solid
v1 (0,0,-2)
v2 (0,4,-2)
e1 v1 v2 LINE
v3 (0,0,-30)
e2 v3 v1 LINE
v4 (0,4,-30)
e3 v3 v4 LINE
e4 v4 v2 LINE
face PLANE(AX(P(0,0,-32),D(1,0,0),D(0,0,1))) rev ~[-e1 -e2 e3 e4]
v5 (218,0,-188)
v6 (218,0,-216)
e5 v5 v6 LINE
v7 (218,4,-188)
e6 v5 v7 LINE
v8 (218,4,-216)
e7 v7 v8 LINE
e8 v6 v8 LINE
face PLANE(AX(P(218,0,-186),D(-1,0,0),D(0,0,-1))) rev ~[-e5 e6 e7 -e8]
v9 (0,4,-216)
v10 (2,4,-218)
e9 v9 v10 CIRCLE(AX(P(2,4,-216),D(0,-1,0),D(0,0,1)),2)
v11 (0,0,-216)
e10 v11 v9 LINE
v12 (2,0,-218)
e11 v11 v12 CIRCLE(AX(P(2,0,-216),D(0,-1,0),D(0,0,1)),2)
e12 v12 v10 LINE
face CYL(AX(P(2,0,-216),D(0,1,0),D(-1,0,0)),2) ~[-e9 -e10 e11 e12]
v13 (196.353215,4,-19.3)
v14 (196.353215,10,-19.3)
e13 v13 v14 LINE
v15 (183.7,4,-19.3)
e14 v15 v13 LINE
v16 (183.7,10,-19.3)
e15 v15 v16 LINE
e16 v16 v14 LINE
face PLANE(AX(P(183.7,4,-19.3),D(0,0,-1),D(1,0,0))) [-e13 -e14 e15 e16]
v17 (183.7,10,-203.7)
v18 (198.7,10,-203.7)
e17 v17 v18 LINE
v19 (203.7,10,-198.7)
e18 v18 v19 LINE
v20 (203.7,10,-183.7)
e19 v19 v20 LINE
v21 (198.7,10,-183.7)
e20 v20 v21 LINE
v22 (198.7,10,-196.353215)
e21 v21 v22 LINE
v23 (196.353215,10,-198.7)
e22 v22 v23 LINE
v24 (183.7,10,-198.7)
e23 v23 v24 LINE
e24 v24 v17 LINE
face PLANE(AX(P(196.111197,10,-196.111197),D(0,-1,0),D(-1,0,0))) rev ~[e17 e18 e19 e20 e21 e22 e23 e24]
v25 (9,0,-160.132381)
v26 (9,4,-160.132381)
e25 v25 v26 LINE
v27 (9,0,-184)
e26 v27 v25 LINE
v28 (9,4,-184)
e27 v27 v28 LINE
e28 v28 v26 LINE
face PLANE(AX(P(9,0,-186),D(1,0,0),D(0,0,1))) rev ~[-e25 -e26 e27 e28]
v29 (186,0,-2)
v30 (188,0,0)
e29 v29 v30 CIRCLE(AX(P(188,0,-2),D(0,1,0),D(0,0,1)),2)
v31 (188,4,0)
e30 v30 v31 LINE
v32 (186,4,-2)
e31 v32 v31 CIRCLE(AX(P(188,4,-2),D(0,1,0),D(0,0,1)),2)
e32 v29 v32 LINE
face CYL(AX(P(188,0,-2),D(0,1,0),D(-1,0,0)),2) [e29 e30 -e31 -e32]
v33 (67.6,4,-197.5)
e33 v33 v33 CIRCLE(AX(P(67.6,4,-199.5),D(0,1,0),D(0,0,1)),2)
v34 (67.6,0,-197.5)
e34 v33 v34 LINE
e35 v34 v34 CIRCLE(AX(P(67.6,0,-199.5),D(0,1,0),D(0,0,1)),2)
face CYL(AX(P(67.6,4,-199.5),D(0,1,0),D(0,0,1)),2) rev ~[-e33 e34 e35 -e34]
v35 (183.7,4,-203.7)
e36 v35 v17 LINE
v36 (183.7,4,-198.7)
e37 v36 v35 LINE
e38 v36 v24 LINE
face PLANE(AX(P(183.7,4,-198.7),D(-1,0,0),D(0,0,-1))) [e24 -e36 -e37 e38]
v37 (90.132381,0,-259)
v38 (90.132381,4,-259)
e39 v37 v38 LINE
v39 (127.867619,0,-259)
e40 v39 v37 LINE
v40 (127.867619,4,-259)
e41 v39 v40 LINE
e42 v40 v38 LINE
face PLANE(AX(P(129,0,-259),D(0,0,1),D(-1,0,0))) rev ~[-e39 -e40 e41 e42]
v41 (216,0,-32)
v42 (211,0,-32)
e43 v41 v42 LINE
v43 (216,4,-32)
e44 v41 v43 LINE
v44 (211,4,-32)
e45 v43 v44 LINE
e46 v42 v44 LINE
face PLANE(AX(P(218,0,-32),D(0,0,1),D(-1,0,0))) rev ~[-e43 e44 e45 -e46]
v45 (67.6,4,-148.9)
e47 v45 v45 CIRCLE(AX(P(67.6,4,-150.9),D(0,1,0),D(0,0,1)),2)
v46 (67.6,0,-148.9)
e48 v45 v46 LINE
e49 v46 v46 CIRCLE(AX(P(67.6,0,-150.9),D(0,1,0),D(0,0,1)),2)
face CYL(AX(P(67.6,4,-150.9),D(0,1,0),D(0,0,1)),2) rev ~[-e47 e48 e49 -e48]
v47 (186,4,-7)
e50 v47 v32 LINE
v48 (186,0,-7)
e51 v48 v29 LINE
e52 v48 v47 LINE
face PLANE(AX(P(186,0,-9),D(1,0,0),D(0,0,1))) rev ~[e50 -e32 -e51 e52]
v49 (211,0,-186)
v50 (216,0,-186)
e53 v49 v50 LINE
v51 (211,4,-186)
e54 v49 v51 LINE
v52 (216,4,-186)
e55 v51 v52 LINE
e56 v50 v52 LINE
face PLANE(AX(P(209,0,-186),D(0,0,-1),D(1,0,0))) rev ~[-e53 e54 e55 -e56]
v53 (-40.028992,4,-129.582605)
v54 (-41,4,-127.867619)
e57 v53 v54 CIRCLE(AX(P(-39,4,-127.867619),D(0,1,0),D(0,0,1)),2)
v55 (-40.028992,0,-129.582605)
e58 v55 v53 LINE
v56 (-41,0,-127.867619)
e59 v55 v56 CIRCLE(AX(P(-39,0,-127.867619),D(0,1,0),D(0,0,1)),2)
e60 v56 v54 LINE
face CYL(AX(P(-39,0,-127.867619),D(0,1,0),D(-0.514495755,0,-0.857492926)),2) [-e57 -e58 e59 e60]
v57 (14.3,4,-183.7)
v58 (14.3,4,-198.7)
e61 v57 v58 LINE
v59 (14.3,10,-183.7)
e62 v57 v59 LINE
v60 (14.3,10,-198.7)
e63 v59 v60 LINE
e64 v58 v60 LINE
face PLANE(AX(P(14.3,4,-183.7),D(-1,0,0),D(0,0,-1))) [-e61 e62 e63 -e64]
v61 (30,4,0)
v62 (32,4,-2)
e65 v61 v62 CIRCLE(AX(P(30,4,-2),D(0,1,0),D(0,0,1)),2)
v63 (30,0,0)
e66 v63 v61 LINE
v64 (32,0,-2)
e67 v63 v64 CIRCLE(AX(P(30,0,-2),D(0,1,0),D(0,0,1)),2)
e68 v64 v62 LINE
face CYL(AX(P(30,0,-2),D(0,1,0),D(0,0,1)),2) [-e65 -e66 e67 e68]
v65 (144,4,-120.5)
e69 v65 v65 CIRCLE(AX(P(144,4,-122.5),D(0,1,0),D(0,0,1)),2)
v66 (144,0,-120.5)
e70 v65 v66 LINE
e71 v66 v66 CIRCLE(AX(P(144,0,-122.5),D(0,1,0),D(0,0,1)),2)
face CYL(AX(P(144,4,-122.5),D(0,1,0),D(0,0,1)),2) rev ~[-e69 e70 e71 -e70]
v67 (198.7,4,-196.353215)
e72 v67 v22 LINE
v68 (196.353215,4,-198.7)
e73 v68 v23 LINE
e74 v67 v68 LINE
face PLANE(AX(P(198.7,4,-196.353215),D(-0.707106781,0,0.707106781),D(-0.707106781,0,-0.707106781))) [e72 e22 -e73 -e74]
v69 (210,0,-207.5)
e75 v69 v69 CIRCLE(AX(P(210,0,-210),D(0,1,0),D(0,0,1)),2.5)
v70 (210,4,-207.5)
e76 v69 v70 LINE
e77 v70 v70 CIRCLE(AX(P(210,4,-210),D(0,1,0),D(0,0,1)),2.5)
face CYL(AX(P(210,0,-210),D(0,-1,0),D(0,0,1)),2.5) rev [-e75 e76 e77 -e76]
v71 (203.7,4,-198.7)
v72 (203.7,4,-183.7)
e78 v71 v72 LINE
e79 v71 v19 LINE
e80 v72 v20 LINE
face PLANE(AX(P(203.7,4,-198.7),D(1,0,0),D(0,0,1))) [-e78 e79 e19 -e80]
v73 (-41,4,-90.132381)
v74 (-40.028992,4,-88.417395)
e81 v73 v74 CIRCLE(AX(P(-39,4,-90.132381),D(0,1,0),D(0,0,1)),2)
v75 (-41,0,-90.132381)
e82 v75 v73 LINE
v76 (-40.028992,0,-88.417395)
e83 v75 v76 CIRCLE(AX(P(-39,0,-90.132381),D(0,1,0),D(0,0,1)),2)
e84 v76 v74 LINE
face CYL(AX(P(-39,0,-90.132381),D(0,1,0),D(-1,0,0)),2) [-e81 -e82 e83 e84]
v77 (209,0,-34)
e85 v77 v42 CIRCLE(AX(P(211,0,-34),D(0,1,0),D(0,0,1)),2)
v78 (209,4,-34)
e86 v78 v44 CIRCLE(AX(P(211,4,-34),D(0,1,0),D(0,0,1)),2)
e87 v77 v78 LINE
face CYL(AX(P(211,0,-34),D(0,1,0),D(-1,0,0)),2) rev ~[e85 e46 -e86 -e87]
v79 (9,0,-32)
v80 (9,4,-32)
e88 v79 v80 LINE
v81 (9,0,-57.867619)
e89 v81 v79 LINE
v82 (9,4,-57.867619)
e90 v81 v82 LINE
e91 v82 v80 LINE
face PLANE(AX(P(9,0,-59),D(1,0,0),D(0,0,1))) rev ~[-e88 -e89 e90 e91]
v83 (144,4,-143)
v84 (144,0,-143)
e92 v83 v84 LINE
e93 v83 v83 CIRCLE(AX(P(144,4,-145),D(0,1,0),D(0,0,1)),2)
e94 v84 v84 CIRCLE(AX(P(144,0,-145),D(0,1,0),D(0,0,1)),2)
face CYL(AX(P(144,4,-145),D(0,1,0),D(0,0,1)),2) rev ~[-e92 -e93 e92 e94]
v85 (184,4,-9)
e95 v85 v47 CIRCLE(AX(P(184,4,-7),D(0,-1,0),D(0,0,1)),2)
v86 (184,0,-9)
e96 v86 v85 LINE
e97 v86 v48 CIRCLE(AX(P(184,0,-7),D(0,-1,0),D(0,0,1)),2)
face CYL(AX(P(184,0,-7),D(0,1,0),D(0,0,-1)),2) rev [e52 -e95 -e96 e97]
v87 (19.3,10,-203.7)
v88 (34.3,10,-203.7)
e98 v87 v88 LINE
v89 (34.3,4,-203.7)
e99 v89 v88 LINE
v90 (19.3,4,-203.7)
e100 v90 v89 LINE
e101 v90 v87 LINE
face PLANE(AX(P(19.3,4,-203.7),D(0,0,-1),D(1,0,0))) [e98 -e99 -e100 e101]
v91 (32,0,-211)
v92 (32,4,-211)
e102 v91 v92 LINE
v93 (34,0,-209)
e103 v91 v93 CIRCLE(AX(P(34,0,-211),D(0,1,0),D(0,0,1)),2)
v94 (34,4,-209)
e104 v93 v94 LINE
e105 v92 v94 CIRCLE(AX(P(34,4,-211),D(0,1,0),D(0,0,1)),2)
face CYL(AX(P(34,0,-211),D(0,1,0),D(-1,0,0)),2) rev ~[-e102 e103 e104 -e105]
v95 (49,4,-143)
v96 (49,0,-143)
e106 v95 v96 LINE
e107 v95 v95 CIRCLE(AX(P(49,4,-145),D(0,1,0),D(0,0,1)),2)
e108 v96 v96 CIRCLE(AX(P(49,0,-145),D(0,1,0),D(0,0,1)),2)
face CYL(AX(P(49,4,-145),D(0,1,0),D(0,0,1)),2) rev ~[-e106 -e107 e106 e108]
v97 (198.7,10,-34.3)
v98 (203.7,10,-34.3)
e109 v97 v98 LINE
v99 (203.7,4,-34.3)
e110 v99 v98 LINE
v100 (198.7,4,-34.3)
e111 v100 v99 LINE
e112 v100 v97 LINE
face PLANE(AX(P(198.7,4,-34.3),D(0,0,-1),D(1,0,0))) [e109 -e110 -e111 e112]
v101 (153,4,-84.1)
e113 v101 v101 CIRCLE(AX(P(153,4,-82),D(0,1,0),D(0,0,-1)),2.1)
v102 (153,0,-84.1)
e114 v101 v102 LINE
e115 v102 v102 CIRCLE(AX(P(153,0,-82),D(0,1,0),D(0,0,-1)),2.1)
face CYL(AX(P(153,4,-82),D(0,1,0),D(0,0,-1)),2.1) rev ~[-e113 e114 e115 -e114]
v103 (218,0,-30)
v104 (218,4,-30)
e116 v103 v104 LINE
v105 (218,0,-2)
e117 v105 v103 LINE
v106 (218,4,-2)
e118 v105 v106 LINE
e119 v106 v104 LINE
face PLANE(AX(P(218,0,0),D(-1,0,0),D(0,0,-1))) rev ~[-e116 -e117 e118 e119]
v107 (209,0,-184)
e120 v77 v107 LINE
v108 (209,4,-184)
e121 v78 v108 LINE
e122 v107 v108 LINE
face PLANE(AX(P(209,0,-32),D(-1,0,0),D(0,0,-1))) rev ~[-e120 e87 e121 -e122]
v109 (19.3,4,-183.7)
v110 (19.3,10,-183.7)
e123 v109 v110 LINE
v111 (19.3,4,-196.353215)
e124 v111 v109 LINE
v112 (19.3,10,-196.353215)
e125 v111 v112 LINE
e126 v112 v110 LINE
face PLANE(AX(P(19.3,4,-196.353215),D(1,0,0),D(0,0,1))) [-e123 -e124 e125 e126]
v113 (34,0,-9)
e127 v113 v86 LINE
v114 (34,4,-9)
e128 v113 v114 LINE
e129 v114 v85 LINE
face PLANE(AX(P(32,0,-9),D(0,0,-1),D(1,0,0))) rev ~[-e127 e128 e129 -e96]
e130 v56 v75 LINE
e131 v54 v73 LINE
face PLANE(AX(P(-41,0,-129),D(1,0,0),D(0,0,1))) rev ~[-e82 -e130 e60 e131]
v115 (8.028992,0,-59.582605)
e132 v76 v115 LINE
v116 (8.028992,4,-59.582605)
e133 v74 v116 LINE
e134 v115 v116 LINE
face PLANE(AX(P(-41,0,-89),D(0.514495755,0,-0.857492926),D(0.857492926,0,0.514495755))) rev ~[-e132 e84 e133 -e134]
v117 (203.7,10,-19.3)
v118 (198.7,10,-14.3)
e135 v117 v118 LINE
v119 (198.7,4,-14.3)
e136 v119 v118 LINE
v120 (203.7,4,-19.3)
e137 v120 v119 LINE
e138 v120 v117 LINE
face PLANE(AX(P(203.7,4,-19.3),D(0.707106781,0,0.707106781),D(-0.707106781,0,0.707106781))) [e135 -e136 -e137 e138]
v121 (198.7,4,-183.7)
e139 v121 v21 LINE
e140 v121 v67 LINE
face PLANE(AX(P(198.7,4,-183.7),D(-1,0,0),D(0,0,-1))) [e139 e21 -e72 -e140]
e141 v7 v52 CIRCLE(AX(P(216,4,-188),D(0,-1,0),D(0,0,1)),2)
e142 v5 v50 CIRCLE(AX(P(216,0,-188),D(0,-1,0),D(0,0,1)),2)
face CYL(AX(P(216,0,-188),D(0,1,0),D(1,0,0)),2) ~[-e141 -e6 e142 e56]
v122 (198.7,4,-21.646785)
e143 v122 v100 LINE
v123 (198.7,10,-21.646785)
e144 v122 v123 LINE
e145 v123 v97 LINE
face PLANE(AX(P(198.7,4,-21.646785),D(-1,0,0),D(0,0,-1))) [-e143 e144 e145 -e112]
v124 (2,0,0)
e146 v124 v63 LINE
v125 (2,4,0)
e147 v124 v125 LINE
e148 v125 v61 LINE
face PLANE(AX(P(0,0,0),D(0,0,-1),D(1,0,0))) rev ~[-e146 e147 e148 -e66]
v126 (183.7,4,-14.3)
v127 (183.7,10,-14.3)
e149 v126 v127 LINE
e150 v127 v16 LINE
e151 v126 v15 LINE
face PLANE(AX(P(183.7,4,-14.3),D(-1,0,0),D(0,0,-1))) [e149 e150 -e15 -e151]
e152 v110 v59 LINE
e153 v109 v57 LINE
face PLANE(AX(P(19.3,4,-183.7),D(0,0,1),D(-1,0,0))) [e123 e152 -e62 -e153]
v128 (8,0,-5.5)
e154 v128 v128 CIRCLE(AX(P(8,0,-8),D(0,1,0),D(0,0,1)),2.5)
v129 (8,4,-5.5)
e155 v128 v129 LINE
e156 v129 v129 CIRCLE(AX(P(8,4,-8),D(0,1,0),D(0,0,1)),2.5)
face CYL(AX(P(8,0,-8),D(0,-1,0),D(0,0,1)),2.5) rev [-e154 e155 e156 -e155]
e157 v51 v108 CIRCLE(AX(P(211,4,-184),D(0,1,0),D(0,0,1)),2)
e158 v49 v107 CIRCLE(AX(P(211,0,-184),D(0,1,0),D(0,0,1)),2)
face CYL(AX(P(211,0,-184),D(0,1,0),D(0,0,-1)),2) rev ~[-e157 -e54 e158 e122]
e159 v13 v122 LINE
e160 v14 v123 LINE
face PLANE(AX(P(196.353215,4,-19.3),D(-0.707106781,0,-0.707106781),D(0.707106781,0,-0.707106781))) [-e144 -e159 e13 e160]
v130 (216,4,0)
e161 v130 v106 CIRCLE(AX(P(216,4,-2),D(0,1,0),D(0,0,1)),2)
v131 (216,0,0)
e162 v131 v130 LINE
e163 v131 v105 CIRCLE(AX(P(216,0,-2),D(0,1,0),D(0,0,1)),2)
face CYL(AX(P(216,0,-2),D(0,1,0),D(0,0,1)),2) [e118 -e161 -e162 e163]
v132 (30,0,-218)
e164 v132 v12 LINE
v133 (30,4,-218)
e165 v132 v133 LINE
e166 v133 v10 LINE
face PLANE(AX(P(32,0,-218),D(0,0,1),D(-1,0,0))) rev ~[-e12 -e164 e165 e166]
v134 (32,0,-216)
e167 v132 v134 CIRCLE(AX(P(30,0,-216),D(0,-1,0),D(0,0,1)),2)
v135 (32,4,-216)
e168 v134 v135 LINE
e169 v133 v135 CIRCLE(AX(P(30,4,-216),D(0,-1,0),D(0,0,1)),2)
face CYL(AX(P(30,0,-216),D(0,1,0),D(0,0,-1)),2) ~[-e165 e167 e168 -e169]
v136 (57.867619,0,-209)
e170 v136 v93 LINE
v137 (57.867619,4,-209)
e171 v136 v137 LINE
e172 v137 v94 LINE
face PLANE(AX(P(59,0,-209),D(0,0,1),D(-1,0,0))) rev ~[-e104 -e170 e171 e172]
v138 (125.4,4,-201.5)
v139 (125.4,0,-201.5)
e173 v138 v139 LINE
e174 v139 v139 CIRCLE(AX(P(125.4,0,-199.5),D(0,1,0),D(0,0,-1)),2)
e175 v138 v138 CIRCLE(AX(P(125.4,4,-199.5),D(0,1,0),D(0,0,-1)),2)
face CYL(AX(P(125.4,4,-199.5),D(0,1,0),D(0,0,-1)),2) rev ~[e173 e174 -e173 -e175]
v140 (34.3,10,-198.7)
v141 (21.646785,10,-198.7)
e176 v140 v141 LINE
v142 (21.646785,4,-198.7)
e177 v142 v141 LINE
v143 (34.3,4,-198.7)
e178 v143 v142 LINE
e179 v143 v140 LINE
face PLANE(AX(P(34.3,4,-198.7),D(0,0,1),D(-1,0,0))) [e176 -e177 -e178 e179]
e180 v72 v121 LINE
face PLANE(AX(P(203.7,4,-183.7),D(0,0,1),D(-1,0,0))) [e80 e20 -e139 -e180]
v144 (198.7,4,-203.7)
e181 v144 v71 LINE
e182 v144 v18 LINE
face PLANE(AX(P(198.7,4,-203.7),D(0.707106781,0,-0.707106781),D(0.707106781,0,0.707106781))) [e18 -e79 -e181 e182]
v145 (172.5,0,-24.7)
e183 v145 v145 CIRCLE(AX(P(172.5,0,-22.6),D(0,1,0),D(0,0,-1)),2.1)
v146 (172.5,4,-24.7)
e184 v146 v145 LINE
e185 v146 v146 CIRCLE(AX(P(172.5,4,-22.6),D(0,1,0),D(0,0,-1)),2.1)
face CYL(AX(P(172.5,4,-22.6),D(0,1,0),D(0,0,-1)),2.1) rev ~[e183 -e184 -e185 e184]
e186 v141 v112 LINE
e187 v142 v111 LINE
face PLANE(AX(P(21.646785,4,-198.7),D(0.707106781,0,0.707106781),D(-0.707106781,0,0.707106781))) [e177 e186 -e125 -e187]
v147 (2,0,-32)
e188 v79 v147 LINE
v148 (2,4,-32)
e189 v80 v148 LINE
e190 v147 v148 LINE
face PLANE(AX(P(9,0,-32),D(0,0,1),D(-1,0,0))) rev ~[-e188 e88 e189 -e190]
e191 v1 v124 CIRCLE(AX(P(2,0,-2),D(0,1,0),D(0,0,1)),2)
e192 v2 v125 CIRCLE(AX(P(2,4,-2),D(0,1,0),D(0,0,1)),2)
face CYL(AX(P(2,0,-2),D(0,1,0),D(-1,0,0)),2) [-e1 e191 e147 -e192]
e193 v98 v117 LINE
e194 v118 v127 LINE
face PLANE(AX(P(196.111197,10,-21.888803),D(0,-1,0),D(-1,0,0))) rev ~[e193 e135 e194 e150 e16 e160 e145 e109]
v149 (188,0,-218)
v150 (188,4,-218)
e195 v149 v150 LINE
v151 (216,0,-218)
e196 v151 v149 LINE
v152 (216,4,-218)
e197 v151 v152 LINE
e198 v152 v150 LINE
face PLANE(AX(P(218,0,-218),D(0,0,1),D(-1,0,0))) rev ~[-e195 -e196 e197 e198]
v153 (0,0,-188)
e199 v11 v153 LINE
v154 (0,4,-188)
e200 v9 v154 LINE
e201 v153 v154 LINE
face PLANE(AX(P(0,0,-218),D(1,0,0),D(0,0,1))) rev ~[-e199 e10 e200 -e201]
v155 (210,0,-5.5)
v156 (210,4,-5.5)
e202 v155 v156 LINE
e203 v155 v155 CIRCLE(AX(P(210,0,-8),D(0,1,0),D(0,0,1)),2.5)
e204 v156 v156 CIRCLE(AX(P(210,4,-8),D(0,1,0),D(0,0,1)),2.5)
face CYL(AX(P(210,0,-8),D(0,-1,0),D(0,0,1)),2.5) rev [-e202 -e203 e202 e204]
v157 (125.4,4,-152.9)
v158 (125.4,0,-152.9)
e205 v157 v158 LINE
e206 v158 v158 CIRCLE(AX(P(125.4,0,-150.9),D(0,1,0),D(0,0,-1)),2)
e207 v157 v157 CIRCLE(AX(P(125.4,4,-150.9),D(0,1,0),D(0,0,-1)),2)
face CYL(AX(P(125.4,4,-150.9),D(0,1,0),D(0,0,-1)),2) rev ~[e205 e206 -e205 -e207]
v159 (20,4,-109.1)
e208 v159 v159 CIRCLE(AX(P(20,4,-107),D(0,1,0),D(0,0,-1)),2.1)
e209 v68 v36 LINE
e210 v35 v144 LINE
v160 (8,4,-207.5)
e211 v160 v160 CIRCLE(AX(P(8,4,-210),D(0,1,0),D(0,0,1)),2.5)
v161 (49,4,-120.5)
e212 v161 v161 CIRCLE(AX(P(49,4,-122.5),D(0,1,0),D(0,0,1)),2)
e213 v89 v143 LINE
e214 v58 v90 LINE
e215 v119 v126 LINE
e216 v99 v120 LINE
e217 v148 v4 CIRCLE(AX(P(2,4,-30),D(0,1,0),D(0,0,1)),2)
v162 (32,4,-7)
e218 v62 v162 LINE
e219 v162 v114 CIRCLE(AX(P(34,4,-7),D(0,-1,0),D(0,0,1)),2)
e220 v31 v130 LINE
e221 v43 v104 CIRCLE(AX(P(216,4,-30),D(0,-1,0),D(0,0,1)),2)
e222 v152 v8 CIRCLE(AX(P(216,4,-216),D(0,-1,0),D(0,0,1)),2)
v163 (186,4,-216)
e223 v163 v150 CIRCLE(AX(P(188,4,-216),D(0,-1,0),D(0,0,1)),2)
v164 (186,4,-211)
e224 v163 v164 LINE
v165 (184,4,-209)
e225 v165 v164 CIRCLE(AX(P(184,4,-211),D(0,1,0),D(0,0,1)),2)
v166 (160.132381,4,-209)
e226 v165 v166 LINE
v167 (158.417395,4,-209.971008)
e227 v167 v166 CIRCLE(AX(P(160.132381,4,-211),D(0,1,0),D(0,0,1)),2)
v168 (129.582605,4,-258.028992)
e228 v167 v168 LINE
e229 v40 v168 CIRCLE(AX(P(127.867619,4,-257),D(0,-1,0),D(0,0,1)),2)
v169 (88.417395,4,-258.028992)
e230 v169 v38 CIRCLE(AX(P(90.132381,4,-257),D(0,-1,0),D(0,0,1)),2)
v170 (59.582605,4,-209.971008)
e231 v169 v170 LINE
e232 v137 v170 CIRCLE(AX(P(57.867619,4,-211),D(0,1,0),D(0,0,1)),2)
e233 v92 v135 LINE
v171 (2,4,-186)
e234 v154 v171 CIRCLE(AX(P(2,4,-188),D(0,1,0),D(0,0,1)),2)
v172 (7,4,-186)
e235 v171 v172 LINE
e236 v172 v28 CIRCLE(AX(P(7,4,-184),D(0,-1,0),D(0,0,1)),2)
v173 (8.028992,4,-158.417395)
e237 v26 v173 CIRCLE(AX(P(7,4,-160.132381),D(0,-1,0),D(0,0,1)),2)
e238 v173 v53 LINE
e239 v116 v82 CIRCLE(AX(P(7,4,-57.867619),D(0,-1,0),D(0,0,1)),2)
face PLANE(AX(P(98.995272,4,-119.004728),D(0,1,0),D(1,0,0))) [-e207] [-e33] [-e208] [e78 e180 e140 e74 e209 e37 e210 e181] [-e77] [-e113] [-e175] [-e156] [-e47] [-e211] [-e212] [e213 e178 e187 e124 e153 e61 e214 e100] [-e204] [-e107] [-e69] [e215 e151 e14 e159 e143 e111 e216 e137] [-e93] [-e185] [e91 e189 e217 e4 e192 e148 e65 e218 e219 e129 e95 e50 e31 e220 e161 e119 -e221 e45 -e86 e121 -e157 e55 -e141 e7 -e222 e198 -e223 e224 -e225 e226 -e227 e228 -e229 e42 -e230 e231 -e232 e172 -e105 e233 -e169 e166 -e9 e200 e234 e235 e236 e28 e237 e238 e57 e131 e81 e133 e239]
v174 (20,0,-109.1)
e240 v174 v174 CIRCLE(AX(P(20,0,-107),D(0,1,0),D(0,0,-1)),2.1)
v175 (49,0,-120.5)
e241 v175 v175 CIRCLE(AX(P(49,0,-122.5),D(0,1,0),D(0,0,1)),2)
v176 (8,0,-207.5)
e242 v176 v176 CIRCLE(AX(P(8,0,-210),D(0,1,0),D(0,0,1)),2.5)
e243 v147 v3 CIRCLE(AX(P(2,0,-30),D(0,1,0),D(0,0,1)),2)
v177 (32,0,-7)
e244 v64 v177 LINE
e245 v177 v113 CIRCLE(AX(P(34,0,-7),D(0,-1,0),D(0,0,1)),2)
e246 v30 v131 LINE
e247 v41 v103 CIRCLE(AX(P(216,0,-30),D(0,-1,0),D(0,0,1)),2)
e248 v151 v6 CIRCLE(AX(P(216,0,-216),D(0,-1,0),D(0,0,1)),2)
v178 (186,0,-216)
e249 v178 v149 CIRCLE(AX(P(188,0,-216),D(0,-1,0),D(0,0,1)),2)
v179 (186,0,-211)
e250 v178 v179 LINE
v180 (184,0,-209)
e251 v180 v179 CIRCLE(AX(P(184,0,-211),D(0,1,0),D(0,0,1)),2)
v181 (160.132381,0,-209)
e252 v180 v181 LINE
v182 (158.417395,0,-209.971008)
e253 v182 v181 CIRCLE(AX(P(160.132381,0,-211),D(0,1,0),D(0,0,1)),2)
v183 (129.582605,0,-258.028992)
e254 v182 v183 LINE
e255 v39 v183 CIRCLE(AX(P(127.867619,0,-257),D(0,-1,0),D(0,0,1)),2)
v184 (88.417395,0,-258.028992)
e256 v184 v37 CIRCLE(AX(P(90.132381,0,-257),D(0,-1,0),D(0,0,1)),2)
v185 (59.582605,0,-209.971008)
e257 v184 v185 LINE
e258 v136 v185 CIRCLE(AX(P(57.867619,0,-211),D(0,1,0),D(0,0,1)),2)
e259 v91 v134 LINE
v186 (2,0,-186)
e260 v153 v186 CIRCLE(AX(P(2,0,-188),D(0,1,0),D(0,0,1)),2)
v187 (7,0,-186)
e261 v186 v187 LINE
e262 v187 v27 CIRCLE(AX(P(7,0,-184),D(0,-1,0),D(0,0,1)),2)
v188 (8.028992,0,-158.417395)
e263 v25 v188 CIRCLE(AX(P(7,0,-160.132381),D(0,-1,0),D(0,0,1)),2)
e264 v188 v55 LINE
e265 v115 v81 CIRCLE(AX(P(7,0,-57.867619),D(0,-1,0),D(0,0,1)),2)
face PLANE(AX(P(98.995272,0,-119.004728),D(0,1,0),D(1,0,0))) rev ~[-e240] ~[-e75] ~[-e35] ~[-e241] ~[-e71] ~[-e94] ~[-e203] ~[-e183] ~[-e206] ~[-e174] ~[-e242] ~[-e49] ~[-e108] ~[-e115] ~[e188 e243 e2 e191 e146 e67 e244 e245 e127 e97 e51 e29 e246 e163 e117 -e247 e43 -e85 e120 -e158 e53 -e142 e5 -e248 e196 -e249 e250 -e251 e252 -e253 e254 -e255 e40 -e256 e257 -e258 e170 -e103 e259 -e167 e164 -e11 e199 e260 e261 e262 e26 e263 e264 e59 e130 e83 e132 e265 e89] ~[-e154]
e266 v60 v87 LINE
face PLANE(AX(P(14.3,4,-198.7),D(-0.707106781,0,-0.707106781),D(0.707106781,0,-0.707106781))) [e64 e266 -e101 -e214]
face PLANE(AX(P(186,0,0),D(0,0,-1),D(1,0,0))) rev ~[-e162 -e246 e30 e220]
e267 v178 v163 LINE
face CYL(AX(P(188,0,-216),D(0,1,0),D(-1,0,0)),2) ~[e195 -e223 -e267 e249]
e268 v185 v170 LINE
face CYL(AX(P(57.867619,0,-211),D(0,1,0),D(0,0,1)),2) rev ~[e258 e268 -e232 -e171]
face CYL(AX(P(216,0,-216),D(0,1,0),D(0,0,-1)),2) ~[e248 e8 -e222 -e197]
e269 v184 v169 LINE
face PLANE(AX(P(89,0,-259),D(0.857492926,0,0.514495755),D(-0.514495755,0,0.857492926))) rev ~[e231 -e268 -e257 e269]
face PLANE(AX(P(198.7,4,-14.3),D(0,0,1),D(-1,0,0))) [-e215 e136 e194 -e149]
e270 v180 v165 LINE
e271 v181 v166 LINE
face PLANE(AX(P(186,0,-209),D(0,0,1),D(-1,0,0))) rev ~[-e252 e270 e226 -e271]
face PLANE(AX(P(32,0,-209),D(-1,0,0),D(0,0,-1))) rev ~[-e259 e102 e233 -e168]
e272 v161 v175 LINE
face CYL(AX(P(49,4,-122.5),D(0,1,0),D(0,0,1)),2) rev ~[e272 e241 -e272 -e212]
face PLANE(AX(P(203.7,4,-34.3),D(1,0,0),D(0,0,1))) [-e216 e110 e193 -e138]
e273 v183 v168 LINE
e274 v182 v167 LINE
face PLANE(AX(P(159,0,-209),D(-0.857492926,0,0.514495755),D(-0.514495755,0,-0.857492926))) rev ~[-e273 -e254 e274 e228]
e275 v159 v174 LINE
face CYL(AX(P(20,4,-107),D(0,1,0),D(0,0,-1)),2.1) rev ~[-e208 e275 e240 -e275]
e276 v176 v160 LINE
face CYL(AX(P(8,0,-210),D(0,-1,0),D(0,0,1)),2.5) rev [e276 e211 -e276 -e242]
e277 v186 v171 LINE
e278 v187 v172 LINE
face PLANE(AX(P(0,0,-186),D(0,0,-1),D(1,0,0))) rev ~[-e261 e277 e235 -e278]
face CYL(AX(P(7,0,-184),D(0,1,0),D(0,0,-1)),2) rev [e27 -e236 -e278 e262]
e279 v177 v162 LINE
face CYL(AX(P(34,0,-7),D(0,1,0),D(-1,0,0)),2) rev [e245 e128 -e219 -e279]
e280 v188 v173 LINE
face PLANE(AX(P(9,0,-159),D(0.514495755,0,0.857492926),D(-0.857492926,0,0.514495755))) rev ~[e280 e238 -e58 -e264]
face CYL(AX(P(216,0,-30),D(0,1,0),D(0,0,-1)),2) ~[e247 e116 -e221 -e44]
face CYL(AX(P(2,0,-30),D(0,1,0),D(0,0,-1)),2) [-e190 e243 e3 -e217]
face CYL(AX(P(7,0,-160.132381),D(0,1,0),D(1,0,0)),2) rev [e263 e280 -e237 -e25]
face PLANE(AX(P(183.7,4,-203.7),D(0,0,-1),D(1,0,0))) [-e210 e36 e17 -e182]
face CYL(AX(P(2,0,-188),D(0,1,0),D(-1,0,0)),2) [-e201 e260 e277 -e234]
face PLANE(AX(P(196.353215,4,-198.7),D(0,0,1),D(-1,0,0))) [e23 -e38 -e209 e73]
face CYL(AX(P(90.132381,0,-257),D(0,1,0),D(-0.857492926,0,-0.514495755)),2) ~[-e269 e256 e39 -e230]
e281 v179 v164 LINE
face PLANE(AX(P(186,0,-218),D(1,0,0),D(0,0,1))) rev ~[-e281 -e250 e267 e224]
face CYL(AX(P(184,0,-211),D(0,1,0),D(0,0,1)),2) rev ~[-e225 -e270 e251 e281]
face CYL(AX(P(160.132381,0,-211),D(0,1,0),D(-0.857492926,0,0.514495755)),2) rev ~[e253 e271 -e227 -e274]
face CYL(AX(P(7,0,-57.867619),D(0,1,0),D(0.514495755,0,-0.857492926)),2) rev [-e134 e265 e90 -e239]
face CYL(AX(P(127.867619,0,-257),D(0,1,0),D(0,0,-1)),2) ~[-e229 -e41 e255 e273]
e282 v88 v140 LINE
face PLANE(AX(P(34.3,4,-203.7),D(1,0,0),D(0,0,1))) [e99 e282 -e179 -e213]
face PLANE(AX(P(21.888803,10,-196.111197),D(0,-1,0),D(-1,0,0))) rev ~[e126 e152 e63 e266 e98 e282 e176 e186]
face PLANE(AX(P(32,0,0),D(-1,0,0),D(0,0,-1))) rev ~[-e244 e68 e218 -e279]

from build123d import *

# Parameters (mm, degrees)
ESQUISSE1_R             = 2.5
BOSS_EXTRU_1_DEPTH      = 4
ESQUISSE2_R             = 2.1
ESQUISSE2_R_2           = 2
ENL_V_MAT_EXTRU_1_DEPTH = 4
BOSS_EXTRU_2_DEPTH      = 6
CONG_1_R                = 2


with BuildPart() as part:
    # Esquisse1 → Boss.-Extru.1 (new body)
    with BuildSketch(Plane(origin=(0, 0, 0), x_dir=(1, 0, 0), z_dir=(0, 1, 0))):
        Polygon((0, 218), (0, 186), (9, 186), (9, 159), (-41, 129), (-41, 89), (9, 59), (9, 32), (0, 32), (0, 0), (32, 0), (32, 9), (186, 9), (186, 0), (218, 0), (218, 32), (209, 32), (209, 186), (218, 186), (218, 218), (186, 218), (186, 209), (159, 209), (129, 259), (89, 259), (59, 209), (32, 209), (32, 218), align=None)
        with Locations(Location((8, 210, 0), (0, 0, 270))):
            Circle(ESQUISSE1_R, mode=Mode.SUBTRACT)
        with Locations(Location((210, 210, 0), (0, 0, 270))):
            Circle(ESQUISSE1_R, mode=Mode.SUBTRACT)
        with Locations(Location((210, 8, 0), (0, 0, 270))):
            Circle(ESQUISSE1_R, mode=Mode.SUBTRACT)
        with Locations(Location((8, 8, 0), (0, 0, 270))):
            Circle(ESQUISSE1_R, mode=Mode.SUBTRACT)
    extrude(amount=BOSS_EXTRU_1_DEPTH)

    # Esquisse2 → Enlèv. mat.-Extru.1 (cut)
    with BuildSketch(Plane(origin=(0, 4, 0), x_dir=(1, 0, 0), z_dir=(0, 1, 0))):
        with Locations(Location((172.5, 22.6, 0), (0, 0, 90))):
            Circle(ESQUISSE2_R)
        with Locations(Location((153, 82, 0), (0, 0, 90))):
            Circle(ESQUISSE2_R)
        with Locations(Location((20, 107, 0), (0, 0, 90))):
            Circle(ESQUISSE2_R)
        with Locations(Location((49, 122.5, 0), (0, 0, 270))):
            Circle(ESQUISSE2_R_2)
        with Locations(Location((144, 122.5, 0), (0, 0, 270))):
            Circle(ESQUISSE2_R_2)
        with Locations(Location((144, 145, 0), (0, 0, 270))):
            Circle(ESQUISSE2_R_2)
        with Locations(Location((49, 145, 0), (0, 0, 270))):
            Circle(ESQUISSE2_R_2)
        with Locations(Location((67.6, 199.5, 0), (0, 0, 270))):
            Circle(ESQUISSE2_R_2)
        with Locations(Location((67.6, 150.9, 0), (0, 0, 270))):
            Circle(ESQUISSE2_R_2)
        with Locations(Location((125.4, 150.9, 0), (0, 0, 90))):
            Circle(ESQUISSE2_R_2)
        with Locations(Location((125.4, 199.5, 0), (0, 0, 90))):
            Circle(ESQUISSE2_R_2)
    extrude(amount=-ENL_V_MAT_EXTRU_1_DEPTH, mode=Mode.SUBTRACT)

    # Esquisse4 → Boss.-Extru.2 (add)
    with BuildSketch(Plane(origin=(0, 4, 0), x_dir=(1, 0, 0), z_dir=(0, 1, 0))):
        Polygon((198.7, 14.3), (183.7, 14.3), (183.7, 19.3), (196.353215425, 19.3), (198.7, 21.646784575), (198.7, 34.3), (203.7, 34.3), (203.7, 19.3), align=None)
        Polygon((19.3, 203.7), (34.3, 203.7), (34.3, 198.7), (21.646784575, 198.7), (19.3, 196.353215425), (19.3, 183.7), (14.3, 183.7), (14.3, 198.7), align=None)
        Polygon((203.7, 198.7), (203.7, 183.7), (198.7, 183.7), (198.7, 196.353215425), (196.353215425, 198.7), (183.7, 198.7), (183.7, 203.7), (198.7, 203.7), align=None)
    extrude(amount=BOSS_EXTRU_2_DEPTH)

    # Congé1
    cong_1_edges = [part.edges().sort_by_distance(p)[0] for p in [
        (0, 2, 0),
        (0, 2, -32),
        (9, 2, -59),
        (-41, 2, -89),
        (-41, 2, -129),
        (9, 2, -159),
        (9, 2, -186),
        (0, 2, -186),
        (0, 2, -218),
        (32, 2, -218),
        (32, 2, -209),
        (59, 2, -209),
        (89, 2, -259),
        (129, 2, -259),
        (159, 2, -209),
        (186, 2, -209),
        (186, 2, -218),
        (218, 2, -218),
        (218, 2, -186),
        (209, 2, -186),
        (209, 2, -32),
        (218, 2, -32),
        (218, 2, 0),
        (186, 2, 0),
        (186, 2, -9),
        (32, 2, -9),
        (32, 2, 0),
    ]]
    fillet(cong_1_edges, radius=CONG_1_R)


solid = part.part
